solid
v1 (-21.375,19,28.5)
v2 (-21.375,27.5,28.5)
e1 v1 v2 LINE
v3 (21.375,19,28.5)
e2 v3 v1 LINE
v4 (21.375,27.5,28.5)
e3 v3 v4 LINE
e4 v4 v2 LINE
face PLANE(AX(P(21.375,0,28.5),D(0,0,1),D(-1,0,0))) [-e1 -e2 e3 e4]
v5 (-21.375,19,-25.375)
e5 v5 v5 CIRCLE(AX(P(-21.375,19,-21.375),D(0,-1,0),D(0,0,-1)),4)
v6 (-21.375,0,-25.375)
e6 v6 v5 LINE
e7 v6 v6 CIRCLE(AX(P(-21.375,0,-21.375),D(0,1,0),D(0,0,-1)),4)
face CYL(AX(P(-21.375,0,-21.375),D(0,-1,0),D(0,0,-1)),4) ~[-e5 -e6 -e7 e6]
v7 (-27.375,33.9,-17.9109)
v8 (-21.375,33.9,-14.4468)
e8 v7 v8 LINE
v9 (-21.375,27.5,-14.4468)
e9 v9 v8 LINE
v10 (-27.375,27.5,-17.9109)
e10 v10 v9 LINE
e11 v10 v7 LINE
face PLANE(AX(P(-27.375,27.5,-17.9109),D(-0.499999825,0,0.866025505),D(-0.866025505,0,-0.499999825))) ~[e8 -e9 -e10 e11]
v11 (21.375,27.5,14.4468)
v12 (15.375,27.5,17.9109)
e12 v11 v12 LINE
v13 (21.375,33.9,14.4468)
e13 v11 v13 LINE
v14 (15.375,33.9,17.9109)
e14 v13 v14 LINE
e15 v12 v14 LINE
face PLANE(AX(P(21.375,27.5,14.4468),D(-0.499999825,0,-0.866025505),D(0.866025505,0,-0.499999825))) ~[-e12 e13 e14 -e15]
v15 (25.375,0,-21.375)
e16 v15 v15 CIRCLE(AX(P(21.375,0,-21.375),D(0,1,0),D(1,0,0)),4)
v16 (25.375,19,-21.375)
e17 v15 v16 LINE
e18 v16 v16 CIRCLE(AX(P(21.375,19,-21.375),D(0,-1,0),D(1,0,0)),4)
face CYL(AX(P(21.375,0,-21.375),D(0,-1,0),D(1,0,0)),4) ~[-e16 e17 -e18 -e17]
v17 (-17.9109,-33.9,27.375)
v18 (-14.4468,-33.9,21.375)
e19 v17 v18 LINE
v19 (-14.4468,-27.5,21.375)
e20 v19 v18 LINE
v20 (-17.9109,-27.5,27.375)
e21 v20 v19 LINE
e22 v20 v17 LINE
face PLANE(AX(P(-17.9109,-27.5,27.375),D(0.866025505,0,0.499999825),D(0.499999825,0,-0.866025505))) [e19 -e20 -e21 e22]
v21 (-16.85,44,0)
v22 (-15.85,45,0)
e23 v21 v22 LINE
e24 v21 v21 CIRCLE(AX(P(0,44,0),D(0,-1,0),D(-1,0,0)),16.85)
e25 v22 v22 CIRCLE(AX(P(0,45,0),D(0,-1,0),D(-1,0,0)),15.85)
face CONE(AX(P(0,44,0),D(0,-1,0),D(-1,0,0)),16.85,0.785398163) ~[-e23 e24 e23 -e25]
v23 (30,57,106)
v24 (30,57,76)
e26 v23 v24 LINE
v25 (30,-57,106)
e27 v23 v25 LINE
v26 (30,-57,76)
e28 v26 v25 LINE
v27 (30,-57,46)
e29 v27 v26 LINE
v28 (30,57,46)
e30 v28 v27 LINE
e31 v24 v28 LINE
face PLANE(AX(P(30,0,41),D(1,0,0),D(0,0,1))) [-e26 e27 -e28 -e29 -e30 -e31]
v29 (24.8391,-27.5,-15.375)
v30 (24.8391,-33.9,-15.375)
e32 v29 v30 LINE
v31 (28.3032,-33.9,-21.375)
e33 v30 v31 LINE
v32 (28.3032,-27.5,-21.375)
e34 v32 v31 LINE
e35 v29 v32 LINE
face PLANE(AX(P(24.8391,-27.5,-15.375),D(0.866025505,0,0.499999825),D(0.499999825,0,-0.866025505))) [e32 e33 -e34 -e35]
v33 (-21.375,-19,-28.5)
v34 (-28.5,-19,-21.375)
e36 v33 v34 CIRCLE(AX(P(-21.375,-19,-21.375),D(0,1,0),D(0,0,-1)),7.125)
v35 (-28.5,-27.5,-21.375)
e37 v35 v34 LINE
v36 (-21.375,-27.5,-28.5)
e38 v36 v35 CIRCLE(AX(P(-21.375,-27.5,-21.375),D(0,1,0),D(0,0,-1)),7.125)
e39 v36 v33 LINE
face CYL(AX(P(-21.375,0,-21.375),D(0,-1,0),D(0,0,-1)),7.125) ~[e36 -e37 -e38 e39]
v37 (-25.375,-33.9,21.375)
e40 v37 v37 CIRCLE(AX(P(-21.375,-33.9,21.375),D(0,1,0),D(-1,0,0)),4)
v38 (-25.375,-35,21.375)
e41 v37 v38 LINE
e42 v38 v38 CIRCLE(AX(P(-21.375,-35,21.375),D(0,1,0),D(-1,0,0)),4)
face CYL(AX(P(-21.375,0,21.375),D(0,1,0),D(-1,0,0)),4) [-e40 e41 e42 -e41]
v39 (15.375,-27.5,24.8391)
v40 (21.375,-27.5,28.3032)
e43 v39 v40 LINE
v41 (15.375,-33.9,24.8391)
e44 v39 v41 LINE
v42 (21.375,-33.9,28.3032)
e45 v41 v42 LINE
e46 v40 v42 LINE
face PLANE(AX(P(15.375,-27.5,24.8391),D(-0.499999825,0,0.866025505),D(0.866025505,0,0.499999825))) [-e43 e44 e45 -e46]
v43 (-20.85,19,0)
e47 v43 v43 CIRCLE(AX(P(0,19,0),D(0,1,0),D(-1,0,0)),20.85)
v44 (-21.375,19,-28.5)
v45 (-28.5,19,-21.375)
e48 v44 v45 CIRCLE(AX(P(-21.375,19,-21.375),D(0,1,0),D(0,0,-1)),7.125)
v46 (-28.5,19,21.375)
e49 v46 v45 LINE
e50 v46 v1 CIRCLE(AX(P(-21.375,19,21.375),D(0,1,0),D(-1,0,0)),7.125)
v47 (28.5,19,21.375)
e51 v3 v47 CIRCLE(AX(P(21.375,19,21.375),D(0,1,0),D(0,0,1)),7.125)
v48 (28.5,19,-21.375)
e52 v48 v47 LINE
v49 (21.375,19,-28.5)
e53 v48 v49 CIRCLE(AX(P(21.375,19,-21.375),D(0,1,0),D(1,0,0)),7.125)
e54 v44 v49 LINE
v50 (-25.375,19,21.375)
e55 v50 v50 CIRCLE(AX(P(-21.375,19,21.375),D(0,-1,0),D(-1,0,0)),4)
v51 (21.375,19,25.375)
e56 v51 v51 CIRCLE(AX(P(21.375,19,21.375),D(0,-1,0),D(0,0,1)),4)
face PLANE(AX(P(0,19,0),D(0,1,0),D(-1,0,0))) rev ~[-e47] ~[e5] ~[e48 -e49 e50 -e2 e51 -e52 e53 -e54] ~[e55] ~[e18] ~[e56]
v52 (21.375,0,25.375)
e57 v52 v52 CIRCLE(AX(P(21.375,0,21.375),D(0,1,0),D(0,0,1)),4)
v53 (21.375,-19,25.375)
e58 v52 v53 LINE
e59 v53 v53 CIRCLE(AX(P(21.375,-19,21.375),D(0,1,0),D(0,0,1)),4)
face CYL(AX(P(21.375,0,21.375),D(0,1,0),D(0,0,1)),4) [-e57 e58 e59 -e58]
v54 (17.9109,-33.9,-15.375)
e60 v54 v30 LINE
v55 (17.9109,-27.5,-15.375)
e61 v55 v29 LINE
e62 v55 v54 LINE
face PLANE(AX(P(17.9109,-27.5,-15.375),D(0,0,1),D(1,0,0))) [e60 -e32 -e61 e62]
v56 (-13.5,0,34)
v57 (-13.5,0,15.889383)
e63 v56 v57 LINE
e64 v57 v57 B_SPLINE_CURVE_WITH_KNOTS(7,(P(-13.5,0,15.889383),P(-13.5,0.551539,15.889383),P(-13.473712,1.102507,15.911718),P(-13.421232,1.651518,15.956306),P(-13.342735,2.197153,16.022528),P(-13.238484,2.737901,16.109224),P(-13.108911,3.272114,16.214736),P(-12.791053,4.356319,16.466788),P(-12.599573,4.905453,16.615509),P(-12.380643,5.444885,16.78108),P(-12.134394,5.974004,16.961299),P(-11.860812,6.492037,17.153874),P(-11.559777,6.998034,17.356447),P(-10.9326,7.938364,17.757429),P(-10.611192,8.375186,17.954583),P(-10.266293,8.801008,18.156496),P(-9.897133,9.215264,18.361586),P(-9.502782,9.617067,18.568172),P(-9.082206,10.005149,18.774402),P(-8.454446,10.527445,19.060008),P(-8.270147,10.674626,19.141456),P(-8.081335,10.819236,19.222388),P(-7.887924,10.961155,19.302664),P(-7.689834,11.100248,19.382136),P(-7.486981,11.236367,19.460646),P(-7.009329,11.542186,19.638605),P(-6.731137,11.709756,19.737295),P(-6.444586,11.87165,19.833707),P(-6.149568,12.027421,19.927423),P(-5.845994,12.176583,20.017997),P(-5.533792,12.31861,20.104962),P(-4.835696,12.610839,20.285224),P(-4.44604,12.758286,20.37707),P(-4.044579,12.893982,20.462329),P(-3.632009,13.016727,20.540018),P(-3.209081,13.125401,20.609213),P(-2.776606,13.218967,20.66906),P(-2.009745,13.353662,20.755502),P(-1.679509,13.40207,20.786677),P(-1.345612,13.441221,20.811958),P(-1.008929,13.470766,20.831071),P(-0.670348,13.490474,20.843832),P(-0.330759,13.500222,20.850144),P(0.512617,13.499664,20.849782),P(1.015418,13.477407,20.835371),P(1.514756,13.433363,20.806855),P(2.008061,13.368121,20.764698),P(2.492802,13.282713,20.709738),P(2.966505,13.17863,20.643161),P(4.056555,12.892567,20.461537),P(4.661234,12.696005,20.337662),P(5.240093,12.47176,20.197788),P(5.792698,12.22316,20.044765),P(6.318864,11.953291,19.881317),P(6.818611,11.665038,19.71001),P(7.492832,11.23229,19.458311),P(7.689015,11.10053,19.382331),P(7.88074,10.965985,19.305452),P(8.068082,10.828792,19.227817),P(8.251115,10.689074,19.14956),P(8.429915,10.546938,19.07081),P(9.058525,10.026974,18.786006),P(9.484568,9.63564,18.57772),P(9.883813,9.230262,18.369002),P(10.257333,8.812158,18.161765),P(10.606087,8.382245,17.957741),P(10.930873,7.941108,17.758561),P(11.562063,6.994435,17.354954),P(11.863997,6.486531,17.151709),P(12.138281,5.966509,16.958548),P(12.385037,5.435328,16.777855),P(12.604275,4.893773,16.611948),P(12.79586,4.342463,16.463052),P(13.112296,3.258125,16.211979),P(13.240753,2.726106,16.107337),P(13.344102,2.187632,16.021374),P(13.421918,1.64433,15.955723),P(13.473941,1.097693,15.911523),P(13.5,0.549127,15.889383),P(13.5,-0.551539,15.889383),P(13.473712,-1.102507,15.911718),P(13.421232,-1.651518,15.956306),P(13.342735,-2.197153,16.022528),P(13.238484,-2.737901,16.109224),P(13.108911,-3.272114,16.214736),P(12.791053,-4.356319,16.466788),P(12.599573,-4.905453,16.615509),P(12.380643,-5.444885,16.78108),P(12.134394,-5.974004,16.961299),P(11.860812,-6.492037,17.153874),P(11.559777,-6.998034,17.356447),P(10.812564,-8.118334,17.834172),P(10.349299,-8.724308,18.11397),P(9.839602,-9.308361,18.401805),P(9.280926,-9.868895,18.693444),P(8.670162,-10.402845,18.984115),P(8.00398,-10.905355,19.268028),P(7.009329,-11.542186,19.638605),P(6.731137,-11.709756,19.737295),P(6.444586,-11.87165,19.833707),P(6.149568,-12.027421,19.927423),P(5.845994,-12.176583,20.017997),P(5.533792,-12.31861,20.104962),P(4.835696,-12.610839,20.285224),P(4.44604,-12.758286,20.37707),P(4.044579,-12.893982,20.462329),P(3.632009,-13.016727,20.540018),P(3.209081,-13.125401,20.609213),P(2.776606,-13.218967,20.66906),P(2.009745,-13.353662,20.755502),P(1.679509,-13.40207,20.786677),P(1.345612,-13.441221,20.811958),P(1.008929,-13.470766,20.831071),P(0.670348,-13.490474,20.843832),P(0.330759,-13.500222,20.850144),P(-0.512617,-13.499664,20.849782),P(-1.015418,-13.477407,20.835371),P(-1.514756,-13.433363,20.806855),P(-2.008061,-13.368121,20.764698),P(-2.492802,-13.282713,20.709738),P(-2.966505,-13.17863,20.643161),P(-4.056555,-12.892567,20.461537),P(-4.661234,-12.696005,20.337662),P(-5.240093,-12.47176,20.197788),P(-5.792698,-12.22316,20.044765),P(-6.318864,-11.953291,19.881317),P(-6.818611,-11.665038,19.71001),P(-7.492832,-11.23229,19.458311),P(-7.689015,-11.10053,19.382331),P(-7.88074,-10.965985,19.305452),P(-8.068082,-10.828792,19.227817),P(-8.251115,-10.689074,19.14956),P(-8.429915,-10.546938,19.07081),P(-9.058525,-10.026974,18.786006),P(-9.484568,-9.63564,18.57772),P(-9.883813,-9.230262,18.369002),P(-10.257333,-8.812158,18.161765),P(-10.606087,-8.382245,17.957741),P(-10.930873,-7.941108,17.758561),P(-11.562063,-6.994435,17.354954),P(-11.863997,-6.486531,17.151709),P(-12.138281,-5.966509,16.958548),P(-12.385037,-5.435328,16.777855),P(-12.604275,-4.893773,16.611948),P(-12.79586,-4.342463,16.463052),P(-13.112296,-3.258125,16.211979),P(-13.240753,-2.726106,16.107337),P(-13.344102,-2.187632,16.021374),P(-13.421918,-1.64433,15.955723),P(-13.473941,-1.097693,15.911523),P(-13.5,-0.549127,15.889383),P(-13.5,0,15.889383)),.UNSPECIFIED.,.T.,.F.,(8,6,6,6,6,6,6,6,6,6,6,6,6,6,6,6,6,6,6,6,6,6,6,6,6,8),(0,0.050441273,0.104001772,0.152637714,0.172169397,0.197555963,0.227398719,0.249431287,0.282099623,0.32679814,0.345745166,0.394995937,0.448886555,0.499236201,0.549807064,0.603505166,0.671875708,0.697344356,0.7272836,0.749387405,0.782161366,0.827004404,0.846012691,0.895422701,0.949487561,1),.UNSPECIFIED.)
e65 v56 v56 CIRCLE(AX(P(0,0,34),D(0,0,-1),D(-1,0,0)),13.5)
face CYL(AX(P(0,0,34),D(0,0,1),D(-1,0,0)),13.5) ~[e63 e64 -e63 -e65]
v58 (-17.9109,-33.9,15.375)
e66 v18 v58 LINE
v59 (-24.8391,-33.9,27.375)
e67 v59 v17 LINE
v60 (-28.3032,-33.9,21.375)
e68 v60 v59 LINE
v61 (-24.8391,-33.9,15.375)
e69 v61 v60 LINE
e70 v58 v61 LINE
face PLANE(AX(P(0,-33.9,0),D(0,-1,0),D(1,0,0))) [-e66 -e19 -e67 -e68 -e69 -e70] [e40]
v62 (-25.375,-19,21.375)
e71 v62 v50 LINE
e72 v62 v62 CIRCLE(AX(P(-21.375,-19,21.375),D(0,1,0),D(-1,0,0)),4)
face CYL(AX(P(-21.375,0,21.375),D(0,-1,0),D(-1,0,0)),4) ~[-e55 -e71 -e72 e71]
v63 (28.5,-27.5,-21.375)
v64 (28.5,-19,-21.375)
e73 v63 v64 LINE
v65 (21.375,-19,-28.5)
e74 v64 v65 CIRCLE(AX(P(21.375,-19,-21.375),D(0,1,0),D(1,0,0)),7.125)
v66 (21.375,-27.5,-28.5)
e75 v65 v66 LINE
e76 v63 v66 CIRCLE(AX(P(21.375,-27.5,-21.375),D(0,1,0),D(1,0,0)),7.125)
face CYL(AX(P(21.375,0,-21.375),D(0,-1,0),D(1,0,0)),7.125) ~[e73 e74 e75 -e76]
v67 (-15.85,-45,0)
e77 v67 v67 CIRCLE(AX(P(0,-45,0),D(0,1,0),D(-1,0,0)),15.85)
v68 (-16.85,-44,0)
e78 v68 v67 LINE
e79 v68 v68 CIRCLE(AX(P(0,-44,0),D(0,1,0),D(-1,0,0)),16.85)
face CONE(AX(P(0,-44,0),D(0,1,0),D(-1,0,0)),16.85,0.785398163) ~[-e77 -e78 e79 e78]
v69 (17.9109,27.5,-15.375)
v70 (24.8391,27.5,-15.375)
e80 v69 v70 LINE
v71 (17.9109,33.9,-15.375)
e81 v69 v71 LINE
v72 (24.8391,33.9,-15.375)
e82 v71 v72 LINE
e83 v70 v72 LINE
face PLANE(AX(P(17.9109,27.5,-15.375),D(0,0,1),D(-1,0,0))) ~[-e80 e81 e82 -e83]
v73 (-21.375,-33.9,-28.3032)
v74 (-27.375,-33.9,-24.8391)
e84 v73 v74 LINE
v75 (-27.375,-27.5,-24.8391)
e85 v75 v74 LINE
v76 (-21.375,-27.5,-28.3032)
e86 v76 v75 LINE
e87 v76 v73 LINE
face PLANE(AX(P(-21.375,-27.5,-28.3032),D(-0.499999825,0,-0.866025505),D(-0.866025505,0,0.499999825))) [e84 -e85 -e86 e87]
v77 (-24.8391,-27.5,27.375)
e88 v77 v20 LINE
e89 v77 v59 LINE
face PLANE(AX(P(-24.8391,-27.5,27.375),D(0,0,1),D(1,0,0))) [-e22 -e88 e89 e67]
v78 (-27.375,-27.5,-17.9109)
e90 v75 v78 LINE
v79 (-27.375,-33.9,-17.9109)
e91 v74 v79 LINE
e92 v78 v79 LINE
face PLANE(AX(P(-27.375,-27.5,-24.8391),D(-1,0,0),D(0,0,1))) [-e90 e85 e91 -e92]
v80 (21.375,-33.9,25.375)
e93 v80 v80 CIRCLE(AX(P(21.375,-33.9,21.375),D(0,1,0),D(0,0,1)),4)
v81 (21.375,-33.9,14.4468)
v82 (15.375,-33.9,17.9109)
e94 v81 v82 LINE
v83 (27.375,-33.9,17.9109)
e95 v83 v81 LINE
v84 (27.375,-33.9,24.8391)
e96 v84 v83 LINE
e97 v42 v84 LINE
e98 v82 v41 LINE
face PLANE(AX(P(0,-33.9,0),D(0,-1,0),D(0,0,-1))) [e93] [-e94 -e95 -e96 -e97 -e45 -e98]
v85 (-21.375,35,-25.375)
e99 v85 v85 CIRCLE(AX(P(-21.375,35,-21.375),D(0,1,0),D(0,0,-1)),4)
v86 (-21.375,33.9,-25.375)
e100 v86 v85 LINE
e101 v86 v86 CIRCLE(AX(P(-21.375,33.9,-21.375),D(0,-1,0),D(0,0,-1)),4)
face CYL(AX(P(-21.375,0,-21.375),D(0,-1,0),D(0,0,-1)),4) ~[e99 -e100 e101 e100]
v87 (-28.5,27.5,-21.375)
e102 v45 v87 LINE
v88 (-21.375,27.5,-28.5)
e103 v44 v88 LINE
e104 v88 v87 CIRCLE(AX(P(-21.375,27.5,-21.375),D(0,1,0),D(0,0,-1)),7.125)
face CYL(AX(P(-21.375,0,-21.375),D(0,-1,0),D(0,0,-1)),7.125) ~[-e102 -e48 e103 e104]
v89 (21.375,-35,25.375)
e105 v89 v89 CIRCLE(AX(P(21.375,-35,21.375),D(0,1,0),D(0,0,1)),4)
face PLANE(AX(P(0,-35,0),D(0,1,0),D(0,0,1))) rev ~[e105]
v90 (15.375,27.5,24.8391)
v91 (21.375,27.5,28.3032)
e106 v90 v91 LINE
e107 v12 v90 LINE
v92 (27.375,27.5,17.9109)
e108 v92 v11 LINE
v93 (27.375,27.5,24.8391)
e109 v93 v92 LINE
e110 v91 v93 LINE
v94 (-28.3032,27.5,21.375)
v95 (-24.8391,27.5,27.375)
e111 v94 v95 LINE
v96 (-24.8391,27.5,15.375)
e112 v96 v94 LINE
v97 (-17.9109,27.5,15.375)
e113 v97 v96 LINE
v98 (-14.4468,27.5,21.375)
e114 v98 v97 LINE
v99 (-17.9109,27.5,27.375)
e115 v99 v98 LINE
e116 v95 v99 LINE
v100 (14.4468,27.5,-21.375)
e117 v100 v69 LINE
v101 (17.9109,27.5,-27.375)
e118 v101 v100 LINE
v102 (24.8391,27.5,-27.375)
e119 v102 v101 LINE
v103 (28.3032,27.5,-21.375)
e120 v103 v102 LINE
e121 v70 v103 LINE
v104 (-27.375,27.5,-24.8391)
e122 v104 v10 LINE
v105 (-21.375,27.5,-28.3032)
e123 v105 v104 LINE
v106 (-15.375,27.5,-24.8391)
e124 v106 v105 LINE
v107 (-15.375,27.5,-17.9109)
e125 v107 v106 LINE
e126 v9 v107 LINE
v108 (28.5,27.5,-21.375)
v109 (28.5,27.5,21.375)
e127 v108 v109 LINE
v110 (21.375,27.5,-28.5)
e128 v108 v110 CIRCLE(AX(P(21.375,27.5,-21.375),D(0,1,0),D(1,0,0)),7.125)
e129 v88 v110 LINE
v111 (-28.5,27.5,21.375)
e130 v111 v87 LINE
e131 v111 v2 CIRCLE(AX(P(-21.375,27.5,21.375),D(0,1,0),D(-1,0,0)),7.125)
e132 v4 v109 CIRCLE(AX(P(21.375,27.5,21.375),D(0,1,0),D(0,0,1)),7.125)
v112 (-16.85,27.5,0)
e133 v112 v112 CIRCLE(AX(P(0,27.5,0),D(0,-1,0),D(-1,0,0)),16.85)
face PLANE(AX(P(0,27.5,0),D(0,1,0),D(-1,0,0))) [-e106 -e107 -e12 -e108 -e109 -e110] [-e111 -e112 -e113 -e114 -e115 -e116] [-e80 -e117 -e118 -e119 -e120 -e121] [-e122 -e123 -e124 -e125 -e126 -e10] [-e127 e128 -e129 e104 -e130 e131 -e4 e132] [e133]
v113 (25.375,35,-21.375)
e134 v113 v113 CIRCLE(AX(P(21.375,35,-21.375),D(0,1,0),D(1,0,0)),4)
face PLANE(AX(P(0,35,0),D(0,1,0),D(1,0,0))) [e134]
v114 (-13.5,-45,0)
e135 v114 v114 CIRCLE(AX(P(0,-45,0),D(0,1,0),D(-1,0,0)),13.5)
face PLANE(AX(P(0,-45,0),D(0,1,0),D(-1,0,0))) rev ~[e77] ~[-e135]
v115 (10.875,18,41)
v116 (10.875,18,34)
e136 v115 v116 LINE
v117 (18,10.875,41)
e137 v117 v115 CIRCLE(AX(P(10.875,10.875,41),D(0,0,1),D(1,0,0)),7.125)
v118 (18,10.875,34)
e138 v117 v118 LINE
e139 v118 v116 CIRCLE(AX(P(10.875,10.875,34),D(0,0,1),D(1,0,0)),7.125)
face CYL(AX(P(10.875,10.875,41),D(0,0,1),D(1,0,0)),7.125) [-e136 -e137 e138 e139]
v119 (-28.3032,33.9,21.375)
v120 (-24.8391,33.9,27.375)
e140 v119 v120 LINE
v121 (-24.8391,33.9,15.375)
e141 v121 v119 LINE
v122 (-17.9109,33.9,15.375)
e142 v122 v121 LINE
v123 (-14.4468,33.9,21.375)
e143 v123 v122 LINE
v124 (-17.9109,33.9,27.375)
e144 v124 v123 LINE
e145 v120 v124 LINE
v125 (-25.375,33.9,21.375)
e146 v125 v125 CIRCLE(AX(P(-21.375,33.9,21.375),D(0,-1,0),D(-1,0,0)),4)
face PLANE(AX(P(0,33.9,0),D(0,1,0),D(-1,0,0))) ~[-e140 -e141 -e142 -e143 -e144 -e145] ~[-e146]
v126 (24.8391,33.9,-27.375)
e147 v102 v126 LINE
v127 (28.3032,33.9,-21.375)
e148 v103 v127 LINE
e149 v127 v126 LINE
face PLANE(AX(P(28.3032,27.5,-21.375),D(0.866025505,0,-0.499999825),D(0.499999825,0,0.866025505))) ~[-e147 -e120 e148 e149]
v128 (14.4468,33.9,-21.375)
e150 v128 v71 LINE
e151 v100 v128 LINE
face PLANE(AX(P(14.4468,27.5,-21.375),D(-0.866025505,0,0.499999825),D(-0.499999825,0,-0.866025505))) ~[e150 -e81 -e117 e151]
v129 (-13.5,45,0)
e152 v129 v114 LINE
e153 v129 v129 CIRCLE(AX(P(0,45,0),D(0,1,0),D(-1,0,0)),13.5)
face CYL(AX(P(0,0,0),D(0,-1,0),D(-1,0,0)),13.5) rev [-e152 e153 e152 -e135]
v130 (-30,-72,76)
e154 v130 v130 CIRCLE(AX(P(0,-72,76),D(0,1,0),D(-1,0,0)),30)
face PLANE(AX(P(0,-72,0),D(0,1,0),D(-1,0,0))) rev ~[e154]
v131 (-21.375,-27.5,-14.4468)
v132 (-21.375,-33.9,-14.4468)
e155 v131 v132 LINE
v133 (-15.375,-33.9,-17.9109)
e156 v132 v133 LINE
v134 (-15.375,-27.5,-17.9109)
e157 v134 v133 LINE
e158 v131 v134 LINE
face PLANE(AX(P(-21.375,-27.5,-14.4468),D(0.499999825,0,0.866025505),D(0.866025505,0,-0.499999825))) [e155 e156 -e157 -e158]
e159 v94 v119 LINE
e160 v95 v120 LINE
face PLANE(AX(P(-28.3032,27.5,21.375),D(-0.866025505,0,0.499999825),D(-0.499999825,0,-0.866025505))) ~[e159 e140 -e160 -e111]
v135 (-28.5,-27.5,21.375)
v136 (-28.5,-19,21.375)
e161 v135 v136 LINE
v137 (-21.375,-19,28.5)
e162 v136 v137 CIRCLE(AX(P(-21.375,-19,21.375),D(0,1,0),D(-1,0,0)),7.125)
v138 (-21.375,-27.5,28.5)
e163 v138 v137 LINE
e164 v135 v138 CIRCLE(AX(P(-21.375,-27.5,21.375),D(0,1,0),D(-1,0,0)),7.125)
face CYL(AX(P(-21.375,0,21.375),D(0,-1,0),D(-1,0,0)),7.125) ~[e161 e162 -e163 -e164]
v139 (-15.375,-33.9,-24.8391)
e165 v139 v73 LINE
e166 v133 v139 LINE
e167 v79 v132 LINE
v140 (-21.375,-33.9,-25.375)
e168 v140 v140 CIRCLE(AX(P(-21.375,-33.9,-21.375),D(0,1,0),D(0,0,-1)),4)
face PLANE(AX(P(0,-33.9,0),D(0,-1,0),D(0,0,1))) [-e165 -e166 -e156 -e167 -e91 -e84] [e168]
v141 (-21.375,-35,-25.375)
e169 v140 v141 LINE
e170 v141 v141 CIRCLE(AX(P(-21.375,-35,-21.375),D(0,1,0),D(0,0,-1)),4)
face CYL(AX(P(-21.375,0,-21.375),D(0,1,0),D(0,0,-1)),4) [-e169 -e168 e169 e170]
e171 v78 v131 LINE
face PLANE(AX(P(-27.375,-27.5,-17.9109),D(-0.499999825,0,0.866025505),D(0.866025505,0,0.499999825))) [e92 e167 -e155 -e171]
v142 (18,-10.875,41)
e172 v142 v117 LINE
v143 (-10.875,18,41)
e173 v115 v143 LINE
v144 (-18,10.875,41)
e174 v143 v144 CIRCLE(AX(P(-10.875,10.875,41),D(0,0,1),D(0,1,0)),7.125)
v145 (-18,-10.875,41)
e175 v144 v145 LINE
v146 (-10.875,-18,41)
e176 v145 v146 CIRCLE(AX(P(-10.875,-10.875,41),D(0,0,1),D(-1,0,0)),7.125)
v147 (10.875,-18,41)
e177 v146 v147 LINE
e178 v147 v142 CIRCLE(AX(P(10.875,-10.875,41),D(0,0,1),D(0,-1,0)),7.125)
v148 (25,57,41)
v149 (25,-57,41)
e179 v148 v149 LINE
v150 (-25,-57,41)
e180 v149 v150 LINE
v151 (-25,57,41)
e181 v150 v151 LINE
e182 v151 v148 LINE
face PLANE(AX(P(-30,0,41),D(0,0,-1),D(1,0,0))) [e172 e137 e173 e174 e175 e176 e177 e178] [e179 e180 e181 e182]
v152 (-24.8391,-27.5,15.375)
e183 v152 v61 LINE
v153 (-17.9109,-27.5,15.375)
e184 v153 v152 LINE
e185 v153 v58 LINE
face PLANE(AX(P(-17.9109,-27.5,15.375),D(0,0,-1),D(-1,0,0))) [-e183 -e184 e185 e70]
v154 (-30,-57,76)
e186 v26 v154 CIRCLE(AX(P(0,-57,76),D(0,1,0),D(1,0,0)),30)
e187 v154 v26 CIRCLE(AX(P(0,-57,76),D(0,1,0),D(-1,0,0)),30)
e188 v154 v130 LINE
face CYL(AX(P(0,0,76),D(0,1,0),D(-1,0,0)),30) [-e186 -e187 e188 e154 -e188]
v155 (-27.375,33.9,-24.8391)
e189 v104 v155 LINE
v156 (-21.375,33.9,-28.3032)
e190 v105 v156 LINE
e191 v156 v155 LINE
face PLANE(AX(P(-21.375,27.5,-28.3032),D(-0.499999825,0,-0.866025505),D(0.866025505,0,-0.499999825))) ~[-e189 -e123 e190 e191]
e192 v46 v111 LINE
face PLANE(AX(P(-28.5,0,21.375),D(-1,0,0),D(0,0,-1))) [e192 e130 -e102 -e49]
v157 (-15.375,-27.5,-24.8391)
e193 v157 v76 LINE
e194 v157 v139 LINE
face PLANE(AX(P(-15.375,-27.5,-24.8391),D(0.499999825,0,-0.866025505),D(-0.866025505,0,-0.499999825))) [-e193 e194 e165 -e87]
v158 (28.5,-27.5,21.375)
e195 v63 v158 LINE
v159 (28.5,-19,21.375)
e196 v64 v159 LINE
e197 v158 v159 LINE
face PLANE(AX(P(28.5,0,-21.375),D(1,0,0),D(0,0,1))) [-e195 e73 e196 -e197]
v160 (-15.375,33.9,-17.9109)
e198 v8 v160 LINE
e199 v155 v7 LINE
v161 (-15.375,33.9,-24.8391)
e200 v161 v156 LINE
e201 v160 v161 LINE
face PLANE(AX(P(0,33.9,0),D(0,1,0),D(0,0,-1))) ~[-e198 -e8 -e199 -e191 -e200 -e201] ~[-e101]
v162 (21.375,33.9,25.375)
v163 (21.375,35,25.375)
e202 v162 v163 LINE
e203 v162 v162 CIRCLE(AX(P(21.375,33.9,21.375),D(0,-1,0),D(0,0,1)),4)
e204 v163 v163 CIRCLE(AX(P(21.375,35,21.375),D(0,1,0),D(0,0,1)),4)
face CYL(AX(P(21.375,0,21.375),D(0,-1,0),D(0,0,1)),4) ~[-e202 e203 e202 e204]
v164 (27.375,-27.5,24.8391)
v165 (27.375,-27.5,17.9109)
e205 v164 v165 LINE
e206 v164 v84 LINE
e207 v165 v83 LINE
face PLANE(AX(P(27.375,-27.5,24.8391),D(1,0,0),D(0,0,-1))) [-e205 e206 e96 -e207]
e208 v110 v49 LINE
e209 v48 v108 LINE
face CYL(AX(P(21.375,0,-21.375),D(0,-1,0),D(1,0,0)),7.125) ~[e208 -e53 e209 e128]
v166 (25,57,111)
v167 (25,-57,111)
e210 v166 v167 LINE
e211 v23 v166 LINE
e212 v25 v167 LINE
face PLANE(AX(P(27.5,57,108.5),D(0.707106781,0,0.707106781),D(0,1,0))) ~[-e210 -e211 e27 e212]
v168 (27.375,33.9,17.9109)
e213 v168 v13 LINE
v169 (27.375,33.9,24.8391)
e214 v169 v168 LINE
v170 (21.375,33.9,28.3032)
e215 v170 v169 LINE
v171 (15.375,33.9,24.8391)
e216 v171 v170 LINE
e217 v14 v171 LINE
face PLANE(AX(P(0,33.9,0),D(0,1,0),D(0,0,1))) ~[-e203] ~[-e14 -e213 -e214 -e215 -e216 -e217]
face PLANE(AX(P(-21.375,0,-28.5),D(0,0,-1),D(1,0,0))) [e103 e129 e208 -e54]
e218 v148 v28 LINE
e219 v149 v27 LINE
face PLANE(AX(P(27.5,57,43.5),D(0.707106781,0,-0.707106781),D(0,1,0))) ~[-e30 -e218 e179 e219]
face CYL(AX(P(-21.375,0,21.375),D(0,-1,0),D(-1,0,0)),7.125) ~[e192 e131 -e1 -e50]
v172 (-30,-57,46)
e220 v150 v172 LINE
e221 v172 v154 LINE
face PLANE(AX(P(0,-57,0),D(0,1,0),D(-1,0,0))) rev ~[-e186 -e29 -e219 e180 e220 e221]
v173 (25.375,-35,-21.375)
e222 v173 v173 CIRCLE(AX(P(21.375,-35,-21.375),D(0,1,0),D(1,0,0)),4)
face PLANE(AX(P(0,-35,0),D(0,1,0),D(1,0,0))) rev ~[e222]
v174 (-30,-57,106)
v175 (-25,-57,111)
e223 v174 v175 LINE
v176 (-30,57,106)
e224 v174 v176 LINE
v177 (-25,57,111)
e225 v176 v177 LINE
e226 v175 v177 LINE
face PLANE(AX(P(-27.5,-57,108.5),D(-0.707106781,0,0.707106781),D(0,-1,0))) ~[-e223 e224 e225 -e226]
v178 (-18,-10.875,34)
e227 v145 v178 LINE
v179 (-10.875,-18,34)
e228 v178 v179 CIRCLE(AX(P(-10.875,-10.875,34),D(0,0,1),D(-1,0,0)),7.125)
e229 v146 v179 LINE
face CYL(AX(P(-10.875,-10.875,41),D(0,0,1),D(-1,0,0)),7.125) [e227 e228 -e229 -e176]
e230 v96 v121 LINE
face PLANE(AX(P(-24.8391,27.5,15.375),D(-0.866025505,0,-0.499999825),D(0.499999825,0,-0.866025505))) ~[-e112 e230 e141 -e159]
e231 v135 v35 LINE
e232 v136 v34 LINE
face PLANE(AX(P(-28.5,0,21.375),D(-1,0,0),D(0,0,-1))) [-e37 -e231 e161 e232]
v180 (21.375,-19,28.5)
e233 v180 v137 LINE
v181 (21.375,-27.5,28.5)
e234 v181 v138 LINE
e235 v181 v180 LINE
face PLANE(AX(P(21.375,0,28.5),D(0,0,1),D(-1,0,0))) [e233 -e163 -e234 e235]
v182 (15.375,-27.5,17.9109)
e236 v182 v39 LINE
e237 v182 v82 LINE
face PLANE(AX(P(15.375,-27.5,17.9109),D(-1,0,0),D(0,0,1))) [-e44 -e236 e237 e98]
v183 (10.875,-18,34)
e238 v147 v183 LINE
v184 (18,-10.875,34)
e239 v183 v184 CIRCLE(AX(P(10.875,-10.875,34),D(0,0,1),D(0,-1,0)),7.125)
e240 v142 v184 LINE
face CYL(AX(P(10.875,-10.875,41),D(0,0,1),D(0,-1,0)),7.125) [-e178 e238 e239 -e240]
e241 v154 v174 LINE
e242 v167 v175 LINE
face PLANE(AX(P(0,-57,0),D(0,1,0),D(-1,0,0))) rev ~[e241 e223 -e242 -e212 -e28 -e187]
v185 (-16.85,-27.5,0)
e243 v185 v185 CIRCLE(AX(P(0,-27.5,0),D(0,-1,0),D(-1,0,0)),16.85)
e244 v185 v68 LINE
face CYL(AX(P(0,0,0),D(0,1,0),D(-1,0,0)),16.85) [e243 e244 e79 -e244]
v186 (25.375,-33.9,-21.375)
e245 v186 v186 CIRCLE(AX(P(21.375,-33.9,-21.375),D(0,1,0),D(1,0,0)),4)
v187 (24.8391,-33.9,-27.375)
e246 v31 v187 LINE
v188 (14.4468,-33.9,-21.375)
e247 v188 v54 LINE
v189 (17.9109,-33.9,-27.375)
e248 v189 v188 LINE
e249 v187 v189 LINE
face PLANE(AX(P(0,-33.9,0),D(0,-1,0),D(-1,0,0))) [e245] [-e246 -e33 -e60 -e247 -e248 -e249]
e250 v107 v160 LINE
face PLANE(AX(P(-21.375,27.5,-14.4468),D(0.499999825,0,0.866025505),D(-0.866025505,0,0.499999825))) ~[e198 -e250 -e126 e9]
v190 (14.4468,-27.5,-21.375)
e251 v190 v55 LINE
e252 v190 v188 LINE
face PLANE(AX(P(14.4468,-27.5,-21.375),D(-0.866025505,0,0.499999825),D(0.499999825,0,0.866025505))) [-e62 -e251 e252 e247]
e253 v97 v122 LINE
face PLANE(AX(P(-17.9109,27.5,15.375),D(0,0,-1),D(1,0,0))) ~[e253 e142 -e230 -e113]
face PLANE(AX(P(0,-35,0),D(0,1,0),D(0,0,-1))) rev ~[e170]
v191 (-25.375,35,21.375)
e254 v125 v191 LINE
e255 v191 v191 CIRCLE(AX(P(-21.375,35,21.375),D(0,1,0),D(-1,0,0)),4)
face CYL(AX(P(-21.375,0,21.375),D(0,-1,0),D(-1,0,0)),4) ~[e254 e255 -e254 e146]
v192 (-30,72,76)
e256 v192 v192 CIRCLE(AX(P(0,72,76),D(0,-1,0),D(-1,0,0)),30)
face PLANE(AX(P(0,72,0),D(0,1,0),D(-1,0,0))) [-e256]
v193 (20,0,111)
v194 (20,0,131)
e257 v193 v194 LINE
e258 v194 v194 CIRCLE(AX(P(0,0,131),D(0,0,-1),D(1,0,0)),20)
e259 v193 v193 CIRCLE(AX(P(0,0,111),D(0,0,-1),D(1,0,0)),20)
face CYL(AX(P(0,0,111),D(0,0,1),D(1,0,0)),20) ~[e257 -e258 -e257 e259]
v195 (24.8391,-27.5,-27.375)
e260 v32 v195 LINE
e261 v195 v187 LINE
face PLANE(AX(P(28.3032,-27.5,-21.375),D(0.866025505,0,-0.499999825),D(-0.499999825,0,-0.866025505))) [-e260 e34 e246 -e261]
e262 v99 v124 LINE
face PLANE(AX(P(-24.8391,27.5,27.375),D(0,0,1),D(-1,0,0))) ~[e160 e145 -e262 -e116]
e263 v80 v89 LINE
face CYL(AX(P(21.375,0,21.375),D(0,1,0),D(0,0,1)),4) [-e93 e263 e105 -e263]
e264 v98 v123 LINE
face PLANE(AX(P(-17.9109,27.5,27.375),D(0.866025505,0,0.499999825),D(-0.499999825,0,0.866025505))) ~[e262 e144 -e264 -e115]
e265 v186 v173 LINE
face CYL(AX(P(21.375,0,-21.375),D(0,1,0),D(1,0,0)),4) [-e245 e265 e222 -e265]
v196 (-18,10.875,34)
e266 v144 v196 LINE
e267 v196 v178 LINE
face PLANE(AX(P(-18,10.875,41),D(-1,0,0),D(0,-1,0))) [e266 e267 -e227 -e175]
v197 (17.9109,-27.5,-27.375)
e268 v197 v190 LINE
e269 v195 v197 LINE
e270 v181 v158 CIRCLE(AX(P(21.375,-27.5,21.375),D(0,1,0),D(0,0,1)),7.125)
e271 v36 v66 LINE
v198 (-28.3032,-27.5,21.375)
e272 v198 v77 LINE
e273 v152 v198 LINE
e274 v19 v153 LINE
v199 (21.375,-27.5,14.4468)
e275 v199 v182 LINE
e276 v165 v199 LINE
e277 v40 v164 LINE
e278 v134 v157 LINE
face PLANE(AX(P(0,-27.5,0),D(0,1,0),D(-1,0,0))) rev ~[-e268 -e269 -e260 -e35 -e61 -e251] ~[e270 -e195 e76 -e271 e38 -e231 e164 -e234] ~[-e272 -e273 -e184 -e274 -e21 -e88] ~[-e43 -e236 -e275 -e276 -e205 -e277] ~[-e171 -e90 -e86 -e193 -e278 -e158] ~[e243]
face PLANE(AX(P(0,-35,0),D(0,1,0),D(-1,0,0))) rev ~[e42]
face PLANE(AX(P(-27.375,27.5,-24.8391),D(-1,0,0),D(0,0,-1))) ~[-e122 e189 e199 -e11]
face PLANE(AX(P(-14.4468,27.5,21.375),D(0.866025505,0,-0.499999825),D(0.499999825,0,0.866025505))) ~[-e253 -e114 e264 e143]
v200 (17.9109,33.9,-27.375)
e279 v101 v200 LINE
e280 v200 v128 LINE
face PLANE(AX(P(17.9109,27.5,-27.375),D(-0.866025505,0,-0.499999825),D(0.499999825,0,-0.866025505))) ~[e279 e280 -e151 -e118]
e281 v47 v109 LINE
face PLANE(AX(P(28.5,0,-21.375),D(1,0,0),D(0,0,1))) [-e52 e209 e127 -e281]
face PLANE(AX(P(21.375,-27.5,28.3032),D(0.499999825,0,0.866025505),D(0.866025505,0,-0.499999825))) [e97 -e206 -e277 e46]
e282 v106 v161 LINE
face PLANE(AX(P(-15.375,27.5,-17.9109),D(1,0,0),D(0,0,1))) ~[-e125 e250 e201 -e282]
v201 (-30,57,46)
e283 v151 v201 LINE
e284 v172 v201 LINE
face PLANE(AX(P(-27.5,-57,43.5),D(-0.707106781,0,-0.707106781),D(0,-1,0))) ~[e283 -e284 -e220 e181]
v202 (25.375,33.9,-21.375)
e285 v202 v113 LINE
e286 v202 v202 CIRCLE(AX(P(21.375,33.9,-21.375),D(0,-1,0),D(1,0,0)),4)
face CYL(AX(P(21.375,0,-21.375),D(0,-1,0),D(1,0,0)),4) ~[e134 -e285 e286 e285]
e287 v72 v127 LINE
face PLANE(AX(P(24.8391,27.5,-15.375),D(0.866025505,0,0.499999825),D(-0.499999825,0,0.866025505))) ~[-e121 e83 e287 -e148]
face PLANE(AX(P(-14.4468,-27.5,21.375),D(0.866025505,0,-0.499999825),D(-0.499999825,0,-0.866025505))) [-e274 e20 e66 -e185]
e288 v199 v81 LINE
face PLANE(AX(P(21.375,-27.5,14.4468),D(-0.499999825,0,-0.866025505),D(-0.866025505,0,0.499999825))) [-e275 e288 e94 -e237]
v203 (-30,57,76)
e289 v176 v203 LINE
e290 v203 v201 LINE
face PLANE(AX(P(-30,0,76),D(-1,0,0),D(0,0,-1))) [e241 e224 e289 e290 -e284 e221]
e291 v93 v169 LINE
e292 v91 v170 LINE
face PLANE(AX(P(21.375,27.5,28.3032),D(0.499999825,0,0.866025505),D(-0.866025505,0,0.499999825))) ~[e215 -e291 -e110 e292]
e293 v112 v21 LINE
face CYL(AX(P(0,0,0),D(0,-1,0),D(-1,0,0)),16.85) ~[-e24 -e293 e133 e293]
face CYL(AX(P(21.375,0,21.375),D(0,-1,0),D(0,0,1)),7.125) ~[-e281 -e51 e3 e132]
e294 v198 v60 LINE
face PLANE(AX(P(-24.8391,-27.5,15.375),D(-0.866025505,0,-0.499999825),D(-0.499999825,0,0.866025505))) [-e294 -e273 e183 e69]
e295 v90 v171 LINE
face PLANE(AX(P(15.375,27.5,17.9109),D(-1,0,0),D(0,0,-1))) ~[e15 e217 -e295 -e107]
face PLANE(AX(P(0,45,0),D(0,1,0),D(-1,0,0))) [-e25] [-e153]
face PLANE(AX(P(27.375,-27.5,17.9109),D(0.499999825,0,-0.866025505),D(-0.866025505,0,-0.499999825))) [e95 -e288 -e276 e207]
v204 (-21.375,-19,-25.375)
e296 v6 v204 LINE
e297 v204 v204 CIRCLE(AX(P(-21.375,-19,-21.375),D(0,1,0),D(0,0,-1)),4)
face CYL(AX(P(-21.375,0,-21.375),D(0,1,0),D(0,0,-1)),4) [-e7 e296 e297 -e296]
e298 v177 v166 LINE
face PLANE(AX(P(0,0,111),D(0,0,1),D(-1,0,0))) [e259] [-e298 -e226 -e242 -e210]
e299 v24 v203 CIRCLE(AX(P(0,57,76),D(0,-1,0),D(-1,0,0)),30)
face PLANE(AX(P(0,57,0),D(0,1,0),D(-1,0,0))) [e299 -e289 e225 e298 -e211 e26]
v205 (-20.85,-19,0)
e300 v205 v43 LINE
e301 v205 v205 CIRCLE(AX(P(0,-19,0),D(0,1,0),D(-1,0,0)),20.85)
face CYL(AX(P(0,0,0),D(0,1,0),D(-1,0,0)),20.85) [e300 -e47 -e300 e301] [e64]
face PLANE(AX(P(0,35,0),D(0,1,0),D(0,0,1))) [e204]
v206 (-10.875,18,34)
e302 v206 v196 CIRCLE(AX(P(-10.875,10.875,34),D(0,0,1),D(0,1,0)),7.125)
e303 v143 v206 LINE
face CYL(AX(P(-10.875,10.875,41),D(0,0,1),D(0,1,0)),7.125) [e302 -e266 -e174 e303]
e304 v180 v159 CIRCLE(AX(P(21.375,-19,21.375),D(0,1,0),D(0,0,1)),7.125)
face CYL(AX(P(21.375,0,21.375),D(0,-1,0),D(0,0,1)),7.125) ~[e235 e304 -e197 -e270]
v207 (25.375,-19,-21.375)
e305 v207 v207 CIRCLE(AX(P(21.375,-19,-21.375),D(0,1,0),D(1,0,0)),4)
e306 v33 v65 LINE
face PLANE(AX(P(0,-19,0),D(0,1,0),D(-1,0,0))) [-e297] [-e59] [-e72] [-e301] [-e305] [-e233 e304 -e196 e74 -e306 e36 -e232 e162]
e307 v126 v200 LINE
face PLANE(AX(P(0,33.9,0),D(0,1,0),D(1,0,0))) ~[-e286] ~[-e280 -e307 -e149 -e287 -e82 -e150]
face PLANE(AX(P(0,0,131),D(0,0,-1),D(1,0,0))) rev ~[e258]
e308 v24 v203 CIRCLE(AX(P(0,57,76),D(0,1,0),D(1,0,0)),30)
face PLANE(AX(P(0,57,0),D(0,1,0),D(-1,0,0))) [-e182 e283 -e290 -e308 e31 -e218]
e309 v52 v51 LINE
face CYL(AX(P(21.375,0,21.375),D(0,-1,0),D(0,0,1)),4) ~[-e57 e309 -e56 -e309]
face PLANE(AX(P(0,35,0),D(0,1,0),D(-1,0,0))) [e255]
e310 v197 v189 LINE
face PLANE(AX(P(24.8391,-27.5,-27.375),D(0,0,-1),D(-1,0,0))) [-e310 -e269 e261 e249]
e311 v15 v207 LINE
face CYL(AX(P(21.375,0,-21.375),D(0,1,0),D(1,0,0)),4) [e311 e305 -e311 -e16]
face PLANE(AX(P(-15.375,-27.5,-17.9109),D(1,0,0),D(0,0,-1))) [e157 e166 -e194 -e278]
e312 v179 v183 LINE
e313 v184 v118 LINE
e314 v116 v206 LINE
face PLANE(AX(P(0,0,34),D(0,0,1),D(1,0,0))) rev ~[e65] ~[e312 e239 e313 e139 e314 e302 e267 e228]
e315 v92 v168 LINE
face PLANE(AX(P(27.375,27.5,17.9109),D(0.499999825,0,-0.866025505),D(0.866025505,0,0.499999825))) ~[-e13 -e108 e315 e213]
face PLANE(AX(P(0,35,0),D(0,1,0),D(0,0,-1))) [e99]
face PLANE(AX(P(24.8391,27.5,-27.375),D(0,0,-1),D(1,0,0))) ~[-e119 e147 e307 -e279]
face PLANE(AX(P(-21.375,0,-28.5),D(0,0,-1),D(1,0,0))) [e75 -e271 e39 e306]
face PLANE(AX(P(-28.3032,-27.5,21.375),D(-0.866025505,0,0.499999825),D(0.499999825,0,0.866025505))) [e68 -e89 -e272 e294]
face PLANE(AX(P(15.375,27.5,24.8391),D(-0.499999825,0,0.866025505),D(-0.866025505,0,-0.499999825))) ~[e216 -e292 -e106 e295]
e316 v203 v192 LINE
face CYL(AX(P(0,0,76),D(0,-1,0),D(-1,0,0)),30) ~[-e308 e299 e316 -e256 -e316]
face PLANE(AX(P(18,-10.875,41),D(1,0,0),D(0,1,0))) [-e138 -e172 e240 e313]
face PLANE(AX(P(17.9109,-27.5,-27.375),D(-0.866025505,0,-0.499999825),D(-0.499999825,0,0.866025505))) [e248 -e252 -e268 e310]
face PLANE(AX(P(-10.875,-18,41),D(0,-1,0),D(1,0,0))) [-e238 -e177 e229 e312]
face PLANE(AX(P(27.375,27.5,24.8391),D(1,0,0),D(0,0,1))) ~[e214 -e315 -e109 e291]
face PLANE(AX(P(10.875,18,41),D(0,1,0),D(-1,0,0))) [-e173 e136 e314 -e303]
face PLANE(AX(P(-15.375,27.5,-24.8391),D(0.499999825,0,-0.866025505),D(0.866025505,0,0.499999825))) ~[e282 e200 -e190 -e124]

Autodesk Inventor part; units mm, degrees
ref_plane "YZ Plane" through (0, 0, 0) normal (1, 0, 0) x (0, 1, 0)
ref_plane "XZ Plane" through (0, 0, 0) normal (0, 1, 0) x (-1, 0, 0)
sketch "Sketch3" plane through (0, 0, 0) normal (0, 1, 0) x (-1, 0, 0)
  line L0 (-6.4482, 15.5674) -> (6.4482, 15.5674)
  line L1 (6.4482, 15.5674) -> (15.5674, 6.4482)
  line L2 (15.5674, 6.4482) -> (15.5674, -6.4482)
  line L3 (15.5674, -6.4482) -> (6.4482, -15.5674)
  line L4 (6.4482, -15.5674) -> (-6.4482, -15.5674)
  line L5 (-6.4482, -15.5674) -> (-15.5674, -6.4482)
  line L6 (-15.5674, -6.4482) -> (-15.5674, 6.4482)
  line L7 (-15.5674, 6.4482) -> (-6.4482, 15.5674)
  circle A0 centre (0, 0) radius 16.85
  line L8 (21.375, -28.5) -> (-21.375, -28.5)
  line L9 (-28.5, -21.375) -> (-28.5, 21.375)
  line L10 (-21.375, 28.5) -> (21.375, 28.5)
  line L11 (28.5, 21.375) -> (28.5, -21.375)
  line L12 (28.5, -28.5) -> (-28.5, 28.5) construction
  line L13 (-28.5, -28.5) -> (28.5, 28.5) construction
  circle A1 centre (0, 0) radius 15.5674
  arc A2 (28.5, 21.375) -> (21.375, 28.5) centre (21.375, 21.375) ccw
  arc A3 (-21.375, 28.5) -> (-28.5, 21.375) centre (-21.375, 21.375) ccw
  arc A4 (-28.5, -21.375) -> (-21.375, -28.5) centre (-21.375, -21.375) ccw
  arc A5 (21.375, -28.5) -> (28.5, -21.375) centre (21.375, -21.375) ccw
  circle A6 centre (0, 0) radius 13.5
  circle A7 centre (21.375, 21.375) radius 4
  circle A8 centre (0, 0) radius 20.85
  dimension "oSW" = 33.7
  dimension "oFlangeW" = 57
  dimension "d2" = 7.125
  dimension "oIntDia" = 27
  dimension "oMbolt" = 8
  dimension "d16" = 4
extrude "Extrusion1" add sketch "Sketch3" along normal mid plane 90 contours A0 L0 | L0 A1 L7 | L7 A0 | L0 L1 A1 | A1 | A1 L6 L7 | A0 L1 | L6 A0 | L1 L2 A1 | A1 L5 L6 | A0 L2 | L5 A0 | L2 L3 A1 | A1 L4 L5 | L4 A0 | A0 L3 | L3 L4 A1
extrude "Extrusion2" add sketch "Sketch3" along normal mid plane 55 contours A0 L0 | L7 A0 | A0 L1 | L6 A0 | A0 L2 | L5 A0 | L4 A0 | A0 L3 | L8 A4 L9 A3 L10 A2 L11 A5 | A7 | A8
extrude "Extrusion3" cut sketch "Sketch3" along normal mid plane 38 contours L8 A4 L9 A3 L10 A2 L11 A5 | A7
extrude "Extrusion4" add sketch "Sketch3" along normal mid plane 70 contours A7
sketch "Sketch4" plane through (0, -27.5, 0) normal (0, -1, 0) x (1, 0, 0)
  circle A0 centre (-21.375, 21.375) radius 4 projected
  line L0 (-17.9109, 15.375) -> (-24.8391, 15.375)
  line L1 (-24.8391, 15.375) -> (-28.3032, 21.375)
  line L2 (-28.3032, 21.375) -> (-24.8391, 27.375)
  line L3 (-24.8391, 27.375) -> (-17.9109, 27.375)
  line L4 (-17.9109, 27.375) -> (-14.4468, 21.375)
  line L5 (-14.4468, 21.375) -> (-17.9109, 15.375)
  point P0 (0, 0)
  dimension "d13" = 12
extrude "Extrusion5" add sketch "Sketch4" along normal blind 6.4
mirror "Mirror1" about plane through (0, 0, 0) normal (0, 1, 0) of "Extrusion5"
pattern_circular "Circular Pattern1" count 4 over 360 about axis through (0, 0, 0) along (0, 1, 0) of "Extrusion5", "Extrusion4", "Mirror1"
ref_plane "Work Plane1" through (0, 0, 41) normal (0, 0, 1) x (1, 0, 0)
sketch "Sketch5" plane through (0, 0, 41) normal (0, 0, 1) x (1, 0, 0)
  line L0 (-10.875, -18) -> (10.875, -18)
  line L1 (18, -10.875) -> (18, 10.875)
  line L2 (10.875, 18) -> (-10.875, 18)
  line L3 (-18, 10.875) -> (-18, -10.875)
  line L4 (-18, -18) -> (18, 18) construction
  line L5 (18, -18) -> (-18, 18) construction
  arc A0 (-18, -10.875) -> (-10.875, -18) centre (-10.875, -10.875) ccw
  arc A1 (10.875, -18) -> (18, -10.875) centre (10.875, -10.875) ccw
  arc A2 (18, 10.875) -> (10.875, 18) centre (10.875, 10.875) ccw
  arc A3 (-10.875, 18) -> (-18, 10.875) centre (-10.875, 10.875) ccw
  point P0 (0, 0)
  dimension "d21" = 36
  dimension "d22" = 7.125
extrude "Extrusion6" add sketch "Sketch5" against normal blind 7
sketch "Sketch6" plane through (0, 0, 34) normal (0, 0, -1) x (-1, 0, 0)
  circle A0 centre (0, 0) radius 13.5
  dimension "d25" = 27
extrude "Extrusion7" add sketch "Sketch6" along normal up to surface
chamfer "Chamfer1" distance 1 angle 45 2 edges at (16.85, 45, 0) (16.85, -45, 0)
sketch "Sketch11" plane through (0, 0, 0) normal (0, 1, 0) x (-1, 0, 0)
  line L0 (30, 41) -> (-30, 41)
  line L1 (-30, 41) -> (-30, 111)
  line L2 (-30, 111) -> (30, 111)
  line L3 (30, 111) -> (30, 41)
  line L4 (-30, 111) -> (30, 41) construction
  line L5 (30, 111) -> (-30, 41) construction
  circle A0 centre (0, 76) radius 30
  line L6 (0, 111) -> (-20, 111)
  line L7 (-20, 111) -> (-20, 131)
  line L8 (-20, 131) -> (0, 131)
  line L9 (0, 131) -> (0, 111)
  circle A1 centre (0, 0) radius 20.85 projected
  line L10 (0, 0) -> (0, 76)
  line L11 (-10.875, 41) -> (10.875, 41) projected
  dimension "oCylinderWeight" = 60
  dimension "oCylinderHeight" = 70
  dimension "oCylinderDia" = 60
  dimension "d62" = 20
  dimension "d63" = 20
extrude "Extrusion12" add sketch "Sketch11" along normal mid plane 144 contours A0
extrude "Extrusion13" add sketch "Sketch11" along normal mid plane 114 contours L0 L10 A0 L3 | A0 L1 L2 L3 | A0 | L0 L1 A0 L10
revolve "Revolution1" add sketch "Sketch11" angle 360 about axis through (0, 0, 131) along (0, 0, -1) contours L2 L7 L8 L9
chamfer "Chamfer3" distance 5 angle 45 4 edges at (30, 0, 111) (-30, 0, 111) (-30, 0, 41) (30, 0, 41)
equation "\"d2\" = 0.125 * oFlangeW"
equation "\"d13\" = 1.5 * oMbolt"
equation "\"d14\" = 0.8 * oMbolt"
equation "\"d22\" = d2"
equation "\"d25\" = oIntDia"
properties part number "PNEUMATIC BUTT WELD BALL VALVE DN25 304L" material "304L"
